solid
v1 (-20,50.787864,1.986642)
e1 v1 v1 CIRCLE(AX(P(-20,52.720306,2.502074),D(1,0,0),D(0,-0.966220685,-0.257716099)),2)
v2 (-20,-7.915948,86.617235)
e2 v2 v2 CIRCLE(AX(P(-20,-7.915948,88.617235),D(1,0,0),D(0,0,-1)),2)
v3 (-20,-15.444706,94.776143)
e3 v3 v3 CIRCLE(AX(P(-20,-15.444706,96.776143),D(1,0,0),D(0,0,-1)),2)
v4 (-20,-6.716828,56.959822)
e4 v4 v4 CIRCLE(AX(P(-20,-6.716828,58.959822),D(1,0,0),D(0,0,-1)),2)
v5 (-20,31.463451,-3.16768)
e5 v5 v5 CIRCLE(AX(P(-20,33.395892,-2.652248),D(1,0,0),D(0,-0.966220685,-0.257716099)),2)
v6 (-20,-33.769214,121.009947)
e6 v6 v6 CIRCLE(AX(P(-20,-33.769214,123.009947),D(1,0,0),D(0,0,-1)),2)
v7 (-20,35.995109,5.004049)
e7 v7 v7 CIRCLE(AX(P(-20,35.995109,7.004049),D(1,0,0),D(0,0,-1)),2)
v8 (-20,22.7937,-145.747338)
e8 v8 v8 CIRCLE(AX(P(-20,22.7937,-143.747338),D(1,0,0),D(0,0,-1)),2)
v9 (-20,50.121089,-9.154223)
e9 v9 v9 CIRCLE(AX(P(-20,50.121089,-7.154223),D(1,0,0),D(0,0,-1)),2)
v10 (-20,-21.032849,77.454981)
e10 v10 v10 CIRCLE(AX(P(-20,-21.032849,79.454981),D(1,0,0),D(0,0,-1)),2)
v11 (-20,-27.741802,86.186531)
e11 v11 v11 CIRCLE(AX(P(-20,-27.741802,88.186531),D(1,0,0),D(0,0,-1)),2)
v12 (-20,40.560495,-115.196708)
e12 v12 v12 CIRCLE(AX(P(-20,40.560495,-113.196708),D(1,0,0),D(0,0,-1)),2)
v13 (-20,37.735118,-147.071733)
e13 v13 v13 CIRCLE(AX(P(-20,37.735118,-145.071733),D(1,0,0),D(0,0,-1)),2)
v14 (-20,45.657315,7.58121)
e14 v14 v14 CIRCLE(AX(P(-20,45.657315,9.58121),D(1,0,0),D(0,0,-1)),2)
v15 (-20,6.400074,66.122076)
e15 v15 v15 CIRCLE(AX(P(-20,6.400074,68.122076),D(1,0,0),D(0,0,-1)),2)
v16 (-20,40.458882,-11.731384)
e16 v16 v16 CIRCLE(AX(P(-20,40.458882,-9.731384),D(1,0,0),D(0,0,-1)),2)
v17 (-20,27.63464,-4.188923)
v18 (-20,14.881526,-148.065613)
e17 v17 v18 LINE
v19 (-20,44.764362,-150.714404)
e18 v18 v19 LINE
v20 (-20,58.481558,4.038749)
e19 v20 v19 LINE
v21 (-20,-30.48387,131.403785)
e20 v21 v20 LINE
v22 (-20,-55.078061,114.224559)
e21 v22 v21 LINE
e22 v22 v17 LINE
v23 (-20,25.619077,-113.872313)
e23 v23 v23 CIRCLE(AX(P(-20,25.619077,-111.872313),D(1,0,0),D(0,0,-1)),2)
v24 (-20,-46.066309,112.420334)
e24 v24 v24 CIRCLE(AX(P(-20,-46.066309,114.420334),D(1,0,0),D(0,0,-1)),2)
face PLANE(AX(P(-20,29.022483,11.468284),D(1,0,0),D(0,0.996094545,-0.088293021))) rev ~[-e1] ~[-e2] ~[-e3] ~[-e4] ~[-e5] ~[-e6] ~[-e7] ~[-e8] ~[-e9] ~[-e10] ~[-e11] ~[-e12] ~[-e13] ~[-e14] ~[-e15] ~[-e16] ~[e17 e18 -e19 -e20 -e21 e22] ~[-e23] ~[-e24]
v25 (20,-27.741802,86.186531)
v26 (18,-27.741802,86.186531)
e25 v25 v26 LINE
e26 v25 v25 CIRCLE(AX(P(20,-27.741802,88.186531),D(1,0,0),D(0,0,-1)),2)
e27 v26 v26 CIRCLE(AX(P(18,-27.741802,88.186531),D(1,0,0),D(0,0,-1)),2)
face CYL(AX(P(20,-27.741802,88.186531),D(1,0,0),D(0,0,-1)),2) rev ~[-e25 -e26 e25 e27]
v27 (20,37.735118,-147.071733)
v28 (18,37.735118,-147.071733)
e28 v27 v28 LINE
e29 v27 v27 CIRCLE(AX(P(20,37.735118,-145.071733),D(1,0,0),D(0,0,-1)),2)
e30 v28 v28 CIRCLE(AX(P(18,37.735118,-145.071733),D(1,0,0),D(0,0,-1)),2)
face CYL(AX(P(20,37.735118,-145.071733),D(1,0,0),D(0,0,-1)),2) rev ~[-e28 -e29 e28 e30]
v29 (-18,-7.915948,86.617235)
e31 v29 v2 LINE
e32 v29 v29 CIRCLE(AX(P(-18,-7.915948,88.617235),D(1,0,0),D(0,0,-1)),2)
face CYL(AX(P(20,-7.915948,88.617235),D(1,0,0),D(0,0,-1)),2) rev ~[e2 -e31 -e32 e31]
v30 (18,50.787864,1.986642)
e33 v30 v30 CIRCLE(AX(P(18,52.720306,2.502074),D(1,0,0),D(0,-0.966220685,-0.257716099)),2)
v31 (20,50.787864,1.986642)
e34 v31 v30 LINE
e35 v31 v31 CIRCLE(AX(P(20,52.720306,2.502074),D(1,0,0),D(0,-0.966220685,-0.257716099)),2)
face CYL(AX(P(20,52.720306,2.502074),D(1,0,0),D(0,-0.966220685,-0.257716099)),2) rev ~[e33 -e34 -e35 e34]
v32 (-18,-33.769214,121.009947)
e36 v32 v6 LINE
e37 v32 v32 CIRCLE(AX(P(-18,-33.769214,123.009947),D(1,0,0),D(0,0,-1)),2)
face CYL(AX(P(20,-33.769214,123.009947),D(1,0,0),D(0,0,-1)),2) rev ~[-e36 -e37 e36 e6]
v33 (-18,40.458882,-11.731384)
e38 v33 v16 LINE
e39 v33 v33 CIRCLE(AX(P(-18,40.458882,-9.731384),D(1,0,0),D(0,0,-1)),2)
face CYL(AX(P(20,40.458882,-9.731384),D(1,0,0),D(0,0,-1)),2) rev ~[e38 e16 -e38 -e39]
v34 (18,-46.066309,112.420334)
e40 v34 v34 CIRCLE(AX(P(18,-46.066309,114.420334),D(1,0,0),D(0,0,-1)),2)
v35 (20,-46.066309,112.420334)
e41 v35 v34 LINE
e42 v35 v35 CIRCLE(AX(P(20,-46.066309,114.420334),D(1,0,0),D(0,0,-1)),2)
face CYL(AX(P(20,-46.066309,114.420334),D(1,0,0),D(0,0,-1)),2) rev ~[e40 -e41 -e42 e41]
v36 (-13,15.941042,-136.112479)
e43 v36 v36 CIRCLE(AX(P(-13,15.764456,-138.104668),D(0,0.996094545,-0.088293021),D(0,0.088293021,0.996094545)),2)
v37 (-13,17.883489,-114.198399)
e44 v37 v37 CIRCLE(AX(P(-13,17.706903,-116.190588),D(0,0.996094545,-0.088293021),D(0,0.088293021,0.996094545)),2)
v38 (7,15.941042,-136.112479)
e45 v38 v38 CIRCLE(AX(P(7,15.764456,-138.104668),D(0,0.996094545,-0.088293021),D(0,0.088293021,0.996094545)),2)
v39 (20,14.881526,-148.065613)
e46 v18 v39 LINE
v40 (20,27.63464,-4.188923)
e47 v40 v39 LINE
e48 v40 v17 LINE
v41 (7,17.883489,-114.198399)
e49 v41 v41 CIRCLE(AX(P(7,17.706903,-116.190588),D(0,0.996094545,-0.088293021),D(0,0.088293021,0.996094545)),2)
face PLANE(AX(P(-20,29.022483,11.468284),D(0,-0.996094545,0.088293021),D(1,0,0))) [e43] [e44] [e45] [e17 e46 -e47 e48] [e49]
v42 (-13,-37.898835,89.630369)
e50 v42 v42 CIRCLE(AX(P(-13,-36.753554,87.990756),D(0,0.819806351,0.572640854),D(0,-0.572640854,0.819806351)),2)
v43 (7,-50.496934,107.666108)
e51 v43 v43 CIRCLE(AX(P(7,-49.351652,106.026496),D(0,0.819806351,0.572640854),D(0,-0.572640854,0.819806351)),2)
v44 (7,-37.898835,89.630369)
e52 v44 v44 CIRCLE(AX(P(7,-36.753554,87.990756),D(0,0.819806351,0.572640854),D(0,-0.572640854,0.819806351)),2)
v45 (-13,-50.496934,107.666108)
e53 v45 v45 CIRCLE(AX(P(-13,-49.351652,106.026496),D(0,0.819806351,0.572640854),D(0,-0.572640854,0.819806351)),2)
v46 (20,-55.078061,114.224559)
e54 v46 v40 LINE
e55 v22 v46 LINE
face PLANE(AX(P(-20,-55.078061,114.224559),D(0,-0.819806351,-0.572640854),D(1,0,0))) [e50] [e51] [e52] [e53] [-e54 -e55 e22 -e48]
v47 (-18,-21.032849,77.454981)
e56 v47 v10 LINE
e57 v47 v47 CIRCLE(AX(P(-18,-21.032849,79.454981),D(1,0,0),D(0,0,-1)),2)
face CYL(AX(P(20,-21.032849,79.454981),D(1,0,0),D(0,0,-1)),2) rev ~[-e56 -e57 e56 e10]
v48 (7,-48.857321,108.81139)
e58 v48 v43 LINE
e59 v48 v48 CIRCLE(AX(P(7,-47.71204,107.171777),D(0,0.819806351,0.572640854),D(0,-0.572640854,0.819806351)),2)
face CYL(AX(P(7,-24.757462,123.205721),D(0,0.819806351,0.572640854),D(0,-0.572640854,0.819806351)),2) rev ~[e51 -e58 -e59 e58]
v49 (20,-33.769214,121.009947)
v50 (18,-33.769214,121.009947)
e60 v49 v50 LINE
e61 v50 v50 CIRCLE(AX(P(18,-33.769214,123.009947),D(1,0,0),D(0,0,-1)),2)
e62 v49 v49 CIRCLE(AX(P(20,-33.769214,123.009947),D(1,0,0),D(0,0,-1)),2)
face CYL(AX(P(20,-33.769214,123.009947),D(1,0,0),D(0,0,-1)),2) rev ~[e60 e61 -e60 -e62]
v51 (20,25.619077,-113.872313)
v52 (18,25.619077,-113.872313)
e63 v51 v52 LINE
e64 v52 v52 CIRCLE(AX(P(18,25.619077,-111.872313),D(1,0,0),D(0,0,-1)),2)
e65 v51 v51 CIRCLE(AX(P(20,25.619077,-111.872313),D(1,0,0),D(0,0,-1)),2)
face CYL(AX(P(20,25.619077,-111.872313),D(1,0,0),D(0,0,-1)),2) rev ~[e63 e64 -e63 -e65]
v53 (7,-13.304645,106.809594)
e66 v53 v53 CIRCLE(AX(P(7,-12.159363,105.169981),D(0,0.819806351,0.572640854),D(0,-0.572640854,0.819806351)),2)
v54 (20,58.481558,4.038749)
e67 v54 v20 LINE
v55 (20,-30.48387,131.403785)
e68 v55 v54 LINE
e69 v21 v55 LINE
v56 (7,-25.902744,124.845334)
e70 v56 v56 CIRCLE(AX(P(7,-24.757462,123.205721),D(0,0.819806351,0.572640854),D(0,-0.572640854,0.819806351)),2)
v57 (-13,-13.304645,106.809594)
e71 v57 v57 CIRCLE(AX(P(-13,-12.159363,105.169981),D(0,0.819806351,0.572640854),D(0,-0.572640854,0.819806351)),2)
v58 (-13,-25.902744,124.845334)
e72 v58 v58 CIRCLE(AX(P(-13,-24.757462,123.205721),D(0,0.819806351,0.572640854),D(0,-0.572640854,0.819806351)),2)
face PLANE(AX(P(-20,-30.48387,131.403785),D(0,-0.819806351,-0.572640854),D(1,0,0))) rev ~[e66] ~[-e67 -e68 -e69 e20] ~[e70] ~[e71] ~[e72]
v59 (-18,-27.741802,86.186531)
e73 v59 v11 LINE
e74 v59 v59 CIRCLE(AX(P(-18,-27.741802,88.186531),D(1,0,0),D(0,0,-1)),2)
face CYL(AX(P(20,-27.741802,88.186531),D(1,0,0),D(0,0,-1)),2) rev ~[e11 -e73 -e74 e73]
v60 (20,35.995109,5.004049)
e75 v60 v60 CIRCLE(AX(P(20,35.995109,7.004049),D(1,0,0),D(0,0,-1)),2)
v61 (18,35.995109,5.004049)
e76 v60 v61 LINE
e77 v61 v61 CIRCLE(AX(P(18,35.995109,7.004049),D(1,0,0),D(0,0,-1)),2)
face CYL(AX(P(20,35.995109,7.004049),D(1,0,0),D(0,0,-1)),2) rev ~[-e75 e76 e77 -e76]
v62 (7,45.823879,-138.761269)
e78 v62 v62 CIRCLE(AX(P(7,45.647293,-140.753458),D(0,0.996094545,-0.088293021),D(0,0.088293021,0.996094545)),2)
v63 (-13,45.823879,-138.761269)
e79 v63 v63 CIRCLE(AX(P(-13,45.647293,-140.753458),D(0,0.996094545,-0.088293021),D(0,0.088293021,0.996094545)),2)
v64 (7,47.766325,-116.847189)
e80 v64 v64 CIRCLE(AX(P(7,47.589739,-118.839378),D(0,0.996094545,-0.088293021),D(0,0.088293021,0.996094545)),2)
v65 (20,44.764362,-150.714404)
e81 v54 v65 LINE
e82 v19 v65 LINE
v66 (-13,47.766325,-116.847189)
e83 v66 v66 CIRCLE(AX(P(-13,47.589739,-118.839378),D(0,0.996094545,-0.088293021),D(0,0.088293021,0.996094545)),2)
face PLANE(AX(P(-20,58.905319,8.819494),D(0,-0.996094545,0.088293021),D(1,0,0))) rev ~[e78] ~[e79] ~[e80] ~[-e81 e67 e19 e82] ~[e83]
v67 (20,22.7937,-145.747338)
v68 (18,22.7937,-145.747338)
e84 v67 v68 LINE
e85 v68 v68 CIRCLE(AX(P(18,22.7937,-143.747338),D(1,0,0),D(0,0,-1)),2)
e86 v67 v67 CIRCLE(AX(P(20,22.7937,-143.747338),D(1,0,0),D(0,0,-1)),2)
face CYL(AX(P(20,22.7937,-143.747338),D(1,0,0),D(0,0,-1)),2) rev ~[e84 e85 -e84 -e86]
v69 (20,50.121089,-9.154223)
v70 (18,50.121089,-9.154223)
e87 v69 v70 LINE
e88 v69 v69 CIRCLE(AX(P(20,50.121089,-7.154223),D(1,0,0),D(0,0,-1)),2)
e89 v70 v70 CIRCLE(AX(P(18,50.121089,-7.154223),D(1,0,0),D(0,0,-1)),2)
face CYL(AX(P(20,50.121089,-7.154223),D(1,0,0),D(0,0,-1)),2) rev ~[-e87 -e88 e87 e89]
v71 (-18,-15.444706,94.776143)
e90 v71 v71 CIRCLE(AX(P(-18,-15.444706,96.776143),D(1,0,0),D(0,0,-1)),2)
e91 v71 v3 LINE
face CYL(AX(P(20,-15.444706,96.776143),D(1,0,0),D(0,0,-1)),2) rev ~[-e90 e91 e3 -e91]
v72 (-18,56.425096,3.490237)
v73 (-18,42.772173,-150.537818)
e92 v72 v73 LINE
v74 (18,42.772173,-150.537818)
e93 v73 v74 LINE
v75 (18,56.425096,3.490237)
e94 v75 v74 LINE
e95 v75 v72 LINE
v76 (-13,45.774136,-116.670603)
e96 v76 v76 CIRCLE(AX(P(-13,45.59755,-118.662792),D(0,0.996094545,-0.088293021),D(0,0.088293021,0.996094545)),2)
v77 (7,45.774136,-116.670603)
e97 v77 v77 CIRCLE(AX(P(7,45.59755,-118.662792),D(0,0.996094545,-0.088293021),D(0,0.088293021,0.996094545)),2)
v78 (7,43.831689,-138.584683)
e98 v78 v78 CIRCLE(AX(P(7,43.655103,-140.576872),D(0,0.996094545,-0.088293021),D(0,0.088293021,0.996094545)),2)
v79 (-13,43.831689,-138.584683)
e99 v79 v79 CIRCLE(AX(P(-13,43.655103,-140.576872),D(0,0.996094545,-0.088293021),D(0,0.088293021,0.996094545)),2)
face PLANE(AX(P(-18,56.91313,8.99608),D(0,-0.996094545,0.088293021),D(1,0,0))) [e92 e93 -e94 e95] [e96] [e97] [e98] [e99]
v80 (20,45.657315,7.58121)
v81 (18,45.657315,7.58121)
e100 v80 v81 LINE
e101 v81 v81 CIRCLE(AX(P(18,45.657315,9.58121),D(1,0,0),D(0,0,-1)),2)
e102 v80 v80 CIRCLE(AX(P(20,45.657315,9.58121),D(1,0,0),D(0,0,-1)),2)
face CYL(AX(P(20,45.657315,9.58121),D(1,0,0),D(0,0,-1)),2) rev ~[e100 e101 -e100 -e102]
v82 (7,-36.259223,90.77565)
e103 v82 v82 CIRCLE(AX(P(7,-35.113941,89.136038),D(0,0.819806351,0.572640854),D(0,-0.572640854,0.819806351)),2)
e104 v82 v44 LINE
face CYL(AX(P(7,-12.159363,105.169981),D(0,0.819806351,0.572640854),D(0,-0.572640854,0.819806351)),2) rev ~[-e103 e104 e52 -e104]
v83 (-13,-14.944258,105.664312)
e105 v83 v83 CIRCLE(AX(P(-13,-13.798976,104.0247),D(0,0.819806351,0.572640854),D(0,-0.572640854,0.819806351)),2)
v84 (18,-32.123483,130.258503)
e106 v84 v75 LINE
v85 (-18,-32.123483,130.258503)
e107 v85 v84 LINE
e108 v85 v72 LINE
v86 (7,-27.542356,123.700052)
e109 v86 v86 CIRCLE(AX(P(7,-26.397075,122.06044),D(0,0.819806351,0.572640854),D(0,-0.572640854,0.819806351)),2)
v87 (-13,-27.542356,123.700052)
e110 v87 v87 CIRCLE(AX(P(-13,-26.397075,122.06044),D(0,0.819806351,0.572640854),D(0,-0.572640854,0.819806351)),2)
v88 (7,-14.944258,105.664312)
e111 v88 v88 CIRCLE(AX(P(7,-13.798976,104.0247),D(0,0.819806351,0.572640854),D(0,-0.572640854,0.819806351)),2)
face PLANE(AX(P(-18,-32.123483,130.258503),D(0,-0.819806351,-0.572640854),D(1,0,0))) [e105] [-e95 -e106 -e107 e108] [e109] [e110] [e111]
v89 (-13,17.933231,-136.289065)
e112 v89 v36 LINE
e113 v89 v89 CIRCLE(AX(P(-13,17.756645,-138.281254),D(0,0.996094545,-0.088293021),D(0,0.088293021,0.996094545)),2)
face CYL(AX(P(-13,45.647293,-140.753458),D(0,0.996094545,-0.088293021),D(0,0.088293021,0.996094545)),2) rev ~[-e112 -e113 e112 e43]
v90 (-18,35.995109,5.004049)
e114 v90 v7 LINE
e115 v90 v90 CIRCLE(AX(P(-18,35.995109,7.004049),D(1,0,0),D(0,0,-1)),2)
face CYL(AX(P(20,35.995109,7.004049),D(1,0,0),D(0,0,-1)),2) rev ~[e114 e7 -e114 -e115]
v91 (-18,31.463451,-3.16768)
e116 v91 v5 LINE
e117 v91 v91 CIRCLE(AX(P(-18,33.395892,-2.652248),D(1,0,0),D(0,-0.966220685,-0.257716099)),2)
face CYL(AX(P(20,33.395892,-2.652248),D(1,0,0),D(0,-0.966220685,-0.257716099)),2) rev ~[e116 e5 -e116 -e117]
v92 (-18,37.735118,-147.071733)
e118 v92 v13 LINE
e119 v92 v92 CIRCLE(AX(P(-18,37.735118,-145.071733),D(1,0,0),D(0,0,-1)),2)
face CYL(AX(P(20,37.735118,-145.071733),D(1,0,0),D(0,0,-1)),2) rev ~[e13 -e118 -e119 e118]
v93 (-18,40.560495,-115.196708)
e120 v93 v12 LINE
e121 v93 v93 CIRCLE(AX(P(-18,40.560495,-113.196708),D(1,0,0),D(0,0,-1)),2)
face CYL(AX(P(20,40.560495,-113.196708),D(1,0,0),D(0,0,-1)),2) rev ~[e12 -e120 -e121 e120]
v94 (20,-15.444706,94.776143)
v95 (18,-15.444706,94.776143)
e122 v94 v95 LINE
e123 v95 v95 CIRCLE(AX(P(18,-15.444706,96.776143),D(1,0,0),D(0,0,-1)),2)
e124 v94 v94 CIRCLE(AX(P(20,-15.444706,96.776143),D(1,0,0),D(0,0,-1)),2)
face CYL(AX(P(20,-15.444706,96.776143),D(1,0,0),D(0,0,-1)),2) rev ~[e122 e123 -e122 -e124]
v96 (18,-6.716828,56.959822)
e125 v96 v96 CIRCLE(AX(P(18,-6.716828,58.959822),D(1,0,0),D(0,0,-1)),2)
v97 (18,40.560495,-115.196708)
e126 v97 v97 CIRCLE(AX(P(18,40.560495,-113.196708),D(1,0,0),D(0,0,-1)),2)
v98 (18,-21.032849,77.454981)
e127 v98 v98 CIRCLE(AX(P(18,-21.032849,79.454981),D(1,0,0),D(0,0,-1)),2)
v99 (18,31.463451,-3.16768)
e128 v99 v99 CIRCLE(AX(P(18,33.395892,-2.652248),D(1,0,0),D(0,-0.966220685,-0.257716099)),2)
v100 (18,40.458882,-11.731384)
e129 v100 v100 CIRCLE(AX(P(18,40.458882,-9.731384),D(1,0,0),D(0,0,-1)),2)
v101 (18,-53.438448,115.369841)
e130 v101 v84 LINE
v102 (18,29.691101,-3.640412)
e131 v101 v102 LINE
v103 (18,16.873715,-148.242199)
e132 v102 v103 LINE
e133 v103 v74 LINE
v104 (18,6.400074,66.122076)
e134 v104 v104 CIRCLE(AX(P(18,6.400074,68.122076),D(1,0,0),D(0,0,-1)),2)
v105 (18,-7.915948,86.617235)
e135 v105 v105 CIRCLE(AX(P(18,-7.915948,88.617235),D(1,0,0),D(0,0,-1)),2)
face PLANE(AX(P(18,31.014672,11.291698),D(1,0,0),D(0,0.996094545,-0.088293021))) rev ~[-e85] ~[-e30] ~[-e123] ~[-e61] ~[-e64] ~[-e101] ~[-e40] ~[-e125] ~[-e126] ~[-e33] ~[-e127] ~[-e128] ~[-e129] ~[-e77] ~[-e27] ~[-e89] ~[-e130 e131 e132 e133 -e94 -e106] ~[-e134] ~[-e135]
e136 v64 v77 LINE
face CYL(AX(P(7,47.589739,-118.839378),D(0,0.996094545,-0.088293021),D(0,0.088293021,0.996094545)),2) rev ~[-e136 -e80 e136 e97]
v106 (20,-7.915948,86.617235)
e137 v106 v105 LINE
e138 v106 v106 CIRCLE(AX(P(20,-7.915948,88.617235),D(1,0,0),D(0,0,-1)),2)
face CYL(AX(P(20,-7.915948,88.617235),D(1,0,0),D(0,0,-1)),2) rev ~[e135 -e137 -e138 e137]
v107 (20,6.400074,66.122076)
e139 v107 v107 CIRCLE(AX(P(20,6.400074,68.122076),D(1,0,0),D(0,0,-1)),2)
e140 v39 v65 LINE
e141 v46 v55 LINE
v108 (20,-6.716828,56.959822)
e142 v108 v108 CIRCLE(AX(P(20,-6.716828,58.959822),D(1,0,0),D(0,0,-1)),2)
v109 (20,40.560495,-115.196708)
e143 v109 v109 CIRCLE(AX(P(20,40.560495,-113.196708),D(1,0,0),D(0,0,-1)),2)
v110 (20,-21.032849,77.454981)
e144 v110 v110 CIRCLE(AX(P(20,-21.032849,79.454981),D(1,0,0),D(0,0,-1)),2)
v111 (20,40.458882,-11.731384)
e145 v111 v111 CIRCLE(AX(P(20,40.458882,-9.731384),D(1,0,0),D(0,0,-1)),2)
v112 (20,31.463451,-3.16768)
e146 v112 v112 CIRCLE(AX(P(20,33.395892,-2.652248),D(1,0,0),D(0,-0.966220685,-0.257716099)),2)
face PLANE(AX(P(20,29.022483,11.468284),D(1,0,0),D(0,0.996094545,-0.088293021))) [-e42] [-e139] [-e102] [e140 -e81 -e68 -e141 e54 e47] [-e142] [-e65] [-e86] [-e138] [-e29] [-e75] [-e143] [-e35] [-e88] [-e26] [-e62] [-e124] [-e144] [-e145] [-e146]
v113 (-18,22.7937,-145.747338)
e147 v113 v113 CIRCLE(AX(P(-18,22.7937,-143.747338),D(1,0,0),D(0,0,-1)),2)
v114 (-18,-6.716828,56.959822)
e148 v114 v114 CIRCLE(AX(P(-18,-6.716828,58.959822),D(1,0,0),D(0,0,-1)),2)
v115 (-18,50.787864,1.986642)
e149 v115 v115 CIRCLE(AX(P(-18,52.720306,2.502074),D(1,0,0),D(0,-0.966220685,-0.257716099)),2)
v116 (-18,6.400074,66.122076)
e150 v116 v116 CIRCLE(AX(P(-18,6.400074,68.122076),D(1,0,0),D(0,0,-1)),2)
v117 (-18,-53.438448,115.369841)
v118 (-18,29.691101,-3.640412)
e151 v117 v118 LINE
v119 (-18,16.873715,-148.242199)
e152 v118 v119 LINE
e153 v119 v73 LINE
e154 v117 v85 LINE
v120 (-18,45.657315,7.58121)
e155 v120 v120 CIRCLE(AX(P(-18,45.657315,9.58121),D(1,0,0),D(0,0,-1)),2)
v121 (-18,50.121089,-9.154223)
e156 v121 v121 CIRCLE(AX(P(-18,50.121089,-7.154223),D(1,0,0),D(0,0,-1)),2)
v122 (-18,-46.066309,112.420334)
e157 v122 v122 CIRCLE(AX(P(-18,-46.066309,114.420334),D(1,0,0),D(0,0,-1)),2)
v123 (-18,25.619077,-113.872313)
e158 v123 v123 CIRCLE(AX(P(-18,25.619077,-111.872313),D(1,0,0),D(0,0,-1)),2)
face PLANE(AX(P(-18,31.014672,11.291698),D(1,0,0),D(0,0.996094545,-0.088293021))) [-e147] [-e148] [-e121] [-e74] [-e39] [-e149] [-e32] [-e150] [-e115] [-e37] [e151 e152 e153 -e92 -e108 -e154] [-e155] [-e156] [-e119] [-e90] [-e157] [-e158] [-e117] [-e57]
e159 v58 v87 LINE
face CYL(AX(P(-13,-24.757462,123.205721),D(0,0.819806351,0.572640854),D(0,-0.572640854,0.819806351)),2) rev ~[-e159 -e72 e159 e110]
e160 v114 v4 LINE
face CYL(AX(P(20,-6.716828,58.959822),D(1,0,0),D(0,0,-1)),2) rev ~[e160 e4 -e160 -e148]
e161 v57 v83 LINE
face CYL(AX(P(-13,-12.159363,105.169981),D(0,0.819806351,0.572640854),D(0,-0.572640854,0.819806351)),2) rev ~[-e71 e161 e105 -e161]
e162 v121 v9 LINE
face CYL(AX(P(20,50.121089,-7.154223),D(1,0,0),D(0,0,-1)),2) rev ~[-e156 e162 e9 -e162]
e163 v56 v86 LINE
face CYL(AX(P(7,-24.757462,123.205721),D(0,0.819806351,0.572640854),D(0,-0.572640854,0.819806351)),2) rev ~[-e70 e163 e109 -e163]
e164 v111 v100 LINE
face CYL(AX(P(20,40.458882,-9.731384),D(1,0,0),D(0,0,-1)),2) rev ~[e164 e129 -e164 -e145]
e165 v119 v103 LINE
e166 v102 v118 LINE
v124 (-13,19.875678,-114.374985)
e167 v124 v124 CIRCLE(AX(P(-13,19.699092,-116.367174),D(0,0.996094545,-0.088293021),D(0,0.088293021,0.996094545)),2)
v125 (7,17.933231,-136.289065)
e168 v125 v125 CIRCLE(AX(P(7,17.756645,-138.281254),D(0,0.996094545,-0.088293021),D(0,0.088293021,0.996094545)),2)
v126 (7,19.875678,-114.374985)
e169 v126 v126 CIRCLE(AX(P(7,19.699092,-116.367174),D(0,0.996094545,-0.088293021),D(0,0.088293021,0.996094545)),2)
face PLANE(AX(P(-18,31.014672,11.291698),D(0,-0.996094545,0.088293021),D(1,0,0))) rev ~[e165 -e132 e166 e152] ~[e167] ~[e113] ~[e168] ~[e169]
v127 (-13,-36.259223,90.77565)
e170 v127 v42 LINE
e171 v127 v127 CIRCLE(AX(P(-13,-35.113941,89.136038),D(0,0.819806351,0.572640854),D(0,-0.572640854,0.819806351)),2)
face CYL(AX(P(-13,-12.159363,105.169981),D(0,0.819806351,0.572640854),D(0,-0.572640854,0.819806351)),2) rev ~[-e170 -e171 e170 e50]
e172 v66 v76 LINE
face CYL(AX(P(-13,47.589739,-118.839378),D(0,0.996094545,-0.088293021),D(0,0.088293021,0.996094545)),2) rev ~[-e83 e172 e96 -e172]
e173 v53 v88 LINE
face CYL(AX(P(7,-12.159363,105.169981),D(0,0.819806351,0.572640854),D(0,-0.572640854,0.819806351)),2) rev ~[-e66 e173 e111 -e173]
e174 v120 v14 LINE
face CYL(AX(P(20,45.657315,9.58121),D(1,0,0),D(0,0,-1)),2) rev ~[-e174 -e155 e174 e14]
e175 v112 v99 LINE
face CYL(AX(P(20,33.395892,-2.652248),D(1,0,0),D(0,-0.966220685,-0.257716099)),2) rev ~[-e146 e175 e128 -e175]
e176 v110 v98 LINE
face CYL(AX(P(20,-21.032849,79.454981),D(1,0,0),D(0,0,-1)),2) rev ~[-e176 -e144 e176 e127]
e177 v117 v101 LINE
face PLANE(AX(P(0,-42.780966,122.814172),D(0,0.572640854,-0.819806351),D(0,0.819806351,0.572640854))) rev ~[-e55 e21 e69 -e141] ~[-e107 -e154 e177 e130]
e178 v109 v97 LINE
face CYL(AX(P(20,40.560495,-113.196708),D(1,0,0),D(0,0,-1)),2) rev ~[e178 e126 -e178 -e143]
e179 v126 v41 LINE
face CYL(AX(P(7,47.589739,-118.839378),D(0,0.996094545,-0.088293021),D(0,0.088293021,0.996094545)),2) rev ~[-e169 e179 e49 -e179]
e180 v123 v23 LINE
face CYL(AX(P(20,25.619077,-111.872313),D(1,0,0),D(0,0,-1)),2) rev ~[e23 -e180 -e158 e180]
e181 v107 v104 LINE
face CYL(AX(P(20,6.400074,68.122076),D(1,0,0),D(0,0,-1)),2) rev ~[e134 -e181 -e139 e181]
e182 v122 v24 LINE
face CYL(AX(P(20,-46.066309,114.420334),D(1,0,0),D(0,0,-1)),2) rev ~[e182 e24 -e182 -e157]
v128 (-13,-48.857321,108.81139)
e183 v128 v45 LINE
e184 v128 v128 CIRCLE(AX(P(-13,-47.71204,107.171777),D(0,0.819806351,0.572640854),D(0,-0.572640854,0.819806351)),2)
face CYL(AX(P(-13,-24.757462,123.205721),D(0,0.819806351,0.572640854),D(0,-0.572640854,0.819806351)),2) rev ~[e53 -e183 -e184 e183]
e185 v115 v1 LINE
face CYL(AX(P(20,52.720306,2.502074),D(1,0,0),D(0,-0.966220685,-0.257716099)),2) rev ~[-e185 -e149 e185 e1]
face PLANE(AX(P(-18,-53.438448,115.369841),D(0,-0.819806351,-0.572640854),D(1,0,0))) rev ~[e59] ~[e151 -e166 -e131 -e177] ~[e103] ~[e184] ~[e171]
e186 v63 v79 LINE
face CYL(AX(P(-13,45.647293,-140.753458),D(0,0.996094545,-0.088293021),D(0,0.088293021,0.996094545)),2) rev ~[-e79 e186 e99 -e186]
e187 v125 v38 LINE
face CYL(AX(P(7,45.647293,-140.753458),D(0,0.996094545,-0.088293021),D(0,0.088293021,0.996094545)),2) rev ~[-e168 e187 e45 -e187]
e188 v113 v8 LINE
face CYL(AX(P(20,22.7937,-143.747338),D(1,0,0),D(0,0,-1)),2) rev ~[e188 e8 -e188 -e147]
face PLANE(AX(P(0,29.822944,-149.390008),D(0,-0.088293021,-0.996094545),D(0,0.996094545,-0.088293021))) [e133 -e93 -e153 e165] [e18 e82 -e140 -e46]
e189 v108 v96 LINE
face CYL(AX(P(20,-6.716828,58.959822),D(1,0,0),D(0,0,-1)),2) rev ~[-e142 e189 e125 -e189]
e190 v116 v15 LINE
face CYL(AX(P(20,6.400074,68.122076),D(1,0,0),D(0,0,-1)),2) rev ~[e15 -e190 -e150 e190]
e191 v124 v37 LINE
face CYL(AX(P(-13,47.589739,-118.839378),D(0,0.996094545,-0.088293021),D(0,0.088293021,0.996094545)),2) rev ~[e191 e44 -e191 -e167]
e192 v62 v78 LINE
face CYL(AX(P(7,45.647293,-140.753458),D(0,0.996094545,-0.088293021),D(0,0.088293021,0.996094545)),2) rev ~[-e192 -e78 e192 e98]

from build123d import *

# Parameters (mm, degrees)
SKETCH1_W                = 30
SKETCH1_H                = 40
SKETCH1_W_2              = 26
SKETCH1_H_2              = 36
F_20_X_20_X_2_1_DEPTH    = 160.159392621
SKETCH1_ON_SEGMENT_2_W   = 30
SKETCH1_ON_SEGMENT_2_H   = 40
SKETCH1_ON_SEGMENT_2_W_2 = 26
SKETCH1_ON_SEGMENT_2_H_2 = 36
F_20_X_20_X_2_1_2_DEPTH  = 160.159392621
SKETCH_3_R               = 2
CUT_EXTRUDE_1_DEPTH      = 50
SKETCH_4_R               = 2
CUT_EXTRUDE_2_DEPTH      = 50
SKETCH_5_R               = 2
CUT_EXTRUDE_3_DEPTH      = 167.538055882
SKETCH_6_R               = 2
CUT_EXTRUDE_4_DEPTH      = 167.538055882
SKETCH_7_R               = 2
CUT_EXTRUDE_5_DEPTH      = 167.538055882
SKETCH_8_R               = 2
CUT_EXTRUDE_6_DEPTH      = 167.538055882


with BuildPart() as part:
    # Sketch1 → 方形管 20 X 20 X 2(1) (new body)
    with BuildSketch(Plane(origin=(0, -42.556514737, 122.970952591), x_dir=(0, 0.8198063506063987, 0.5726408538564275), z_dir=(0, 0.5726408538564276, -0.8198063506063988))):
        with Locations((-0.273785359, 0)):
            Rectangle(SKETCH1_W, SKETCH1_H)
        with Locations((-0.273785359, 0)):
            Rectangle(SKETCH1_W_2, SKETCH1_H_2, mode=Mode.SUBTRACT)
    extrude(amount=F_20_X_20_X_2_1_DEPTH)

    # 方形管 20 X 20 X 2(1) mitre 1
    split(bisect_by=Plane(origin=(0, 43.339613341, 0), x_dir=(0, -0.966220685, -0.257716099), z_dir=(0, -0.257716099, 0.966220685)), keep=Keep.TOP)


with BuildPart() as body_2:
    # Sketch1 on segment 2 (carried to segment 2) → 20 X 20 X 2_1 2 (new body)
    with BuildSketch(Plane(origin=(0, 44.236616802, 10.11971557), x_dir=(0, 0.996094545, -0.088293021), z_dir=(0, -0.088293021, -0.996094545))):
        with Locations((-0.273785359, 0)):
            Rectangle(SKETCH1_ON_SEGMENT_2_W, SKETCH1_ON_SEGMENT_2_H)
        with Locations((-0.273785359, 0)):
            Rectangle(SKETCH1_ON_SEGMENT_2_W_2, SKETCH1_ON_SEGMENT_2_H_2, mode=Mode.SUBTRACT)
    extrude(amount=F_20_X_20_X_2_1_2_DEPTH)

    # 20 X 20 X 2_1 2 mitre 1
    split(bisect_by=Plane(origin=(0, 43.339613341, 0), x_dir=(0, 0.966220685, 0.257716099), z_dir=(0, 0.257716099, -0.966220685)), keep=Keep.TOP)


with BuildPart() as part_1:
    add(part.part)

    # 方形管 20 X 20 X 2(1) as one body: union body 2
    add(body_2.part)

    # 草图3 → 切除-拉伸1 (cut)
    with BuildSketch(Plane(origin=(0, 41.200437908, 28.778813344), x_dir=(1, 0, 0), z_dir=(0, 0.8198063506064069, 0.5726408538564159))):
        with Locations(Location((-13, -93.181966811, 0), (0, 0, 270))):
            Circle(SKETCH_3_R)
        with Locations(Location((7, -93.181966811, 0), (0, 0, 270))):
            Circle(SKETCH_3_R)
        with Locations(Location((7, -115.181966811, 0), (0, 0, 270))):
            Circle(SKETCH_3_R)
        with Locations(Location((-13, -115.181966811, 0), (0, 0, 270))):
            Circle(SKETCH_3_R)
    extrude(amount=-CUT_EXTRUDE_1_DEPTH, mode=Mode.SUBTRACT)

    # 草图4 → 切除-拉伸2 (cut)
    with BuildSketch(Plane(origin=(0, 57.670454633, -5.111862784), x_dir=(1, 0, 0), z_dir=(0, 0.9960945449749122, -0.08829302051251052))):
        with Locations(Location((-13, 136.17341463, 0), (0, 0, 270))):
            Circle(SKETCH_4_R)
        with Locations(Location((7, 136.17341463, 0), (0, 0, 270))):
            Circle(SKETCH_4_R)
        with Locations(Location((7, 114.17341463, 0), (0, 0, 270))):
            Circle(SKETCH_4_R)
        with Locations(Location((-13, 114.17341463, 0), (0, 0, 270))):
            Circle(SKETCH_4_R)
    extrude(amount=-CUT_EXTRUDE_2_DEPTH, mode=Mode.SUBTRACT)

    # 草图5 → 切除-拉伸3 (cut, through all)
    with BuildSketch(Plane(origin=(20, 0, 0), x_dir=(0, 0, -1), z_dir=(1, 0, 0))):
        with Locations((-88.617234765, -7.915947573)):
            Circle(SKETCH_5_R)
        with Locations((-68.122076, 6.400073774)):
            Circle(SKETCH_5_R)
        with Locations((-58.959822338, -6.716827836)):
            Circle(SKETCH_5_R)
        with Locations((-79.454981103, -21.032849183)):
            Circle(SKETCH_5_R)
    extrude(amount=-CUT_EXTRUDE_3_DEPTH, mode=Mode.SUBTRACT)

    # 草图6 → 切除-拉伸4 (cut, through all)
    with BuildSketch(Plane(origin=(20, 0, 0), x_dir=(0, 0, -1), z_dir=(1, 0, 0))):
        with Locations((-123.00994656, -33.769213815)):
            Circle(SKETCH_6_R)
        with Locations((-96.776143341, -15.444706491)):
            Circle(SKETCH_6_R)
        with Locations((-88.186530533, -27.74180175)):
            Circle(SKETCH_6_R)
        with Locations((-114.420333752, -46.066309074)):
            Circle(SKETCH_6_R)
    extrude(amount=-CUT_EXTRUDE_4_DEPTH, mode=Mode.SUBTRACT)

    # 草图7 → 切除-拉伸5 (cut, through all)
    with BuildSketch(Plane(origin=(20, 0, 0), x_dir=(0, 0, -1), z_dir=(1, 0, 0))):
        with Locations((145.071733339, 37.735118352)):
            Circle(SKETCH_7_R)
        with Locations((143.747338031, 22.793700177)):
            Circle(SKETCH_7_R)
        with Locations((111.872312592, 25.619076833)):
            Circle(SKETCH_7_R)
        with Locations((113.1967079, 40.560495008)):
            Circle(SKETCH_7_R)
    extrude(amount=-CUT_EXTRUDE_5_DEPTH, mode=Mode.SUBTRACT)

    # 草图8 → 切除-拉伸6 (cut, through all)
    with BuildSketch(Plane(origin=(20, 0, 0), x_dir=(0, 0, -1), z_dir=(1, 0, 0))):
        with Locations(Location((-2.502073785, 52.720305714, 0), (0, 0, 284.934586598))):
            Circle(SKETCH_8_R)
        with Locations((7.154223301, 50.121089178)):
            Circle(SKETCH_8_R)
        with Locations((9.731384293, 40.458882327)):
            Circle(SKETCH_8_R)
        with Locations(Location((2.652248199, 33.395892013, 0), (0, 0, 284.934586598))):
            Circle(SKETCH_8_R)
        with Locations((-7.004048886, 35.99510855)):
            Circle(SKETCH_8_R)
        with Locations((-9.581209878, 45.6573154)):
            Circle(SKETCH_8_R)
    extrude(amount=-CUT_EXTRUDE_6_DEPTH, mode=Mode.SUBTRACT)


solid = part_1.part
